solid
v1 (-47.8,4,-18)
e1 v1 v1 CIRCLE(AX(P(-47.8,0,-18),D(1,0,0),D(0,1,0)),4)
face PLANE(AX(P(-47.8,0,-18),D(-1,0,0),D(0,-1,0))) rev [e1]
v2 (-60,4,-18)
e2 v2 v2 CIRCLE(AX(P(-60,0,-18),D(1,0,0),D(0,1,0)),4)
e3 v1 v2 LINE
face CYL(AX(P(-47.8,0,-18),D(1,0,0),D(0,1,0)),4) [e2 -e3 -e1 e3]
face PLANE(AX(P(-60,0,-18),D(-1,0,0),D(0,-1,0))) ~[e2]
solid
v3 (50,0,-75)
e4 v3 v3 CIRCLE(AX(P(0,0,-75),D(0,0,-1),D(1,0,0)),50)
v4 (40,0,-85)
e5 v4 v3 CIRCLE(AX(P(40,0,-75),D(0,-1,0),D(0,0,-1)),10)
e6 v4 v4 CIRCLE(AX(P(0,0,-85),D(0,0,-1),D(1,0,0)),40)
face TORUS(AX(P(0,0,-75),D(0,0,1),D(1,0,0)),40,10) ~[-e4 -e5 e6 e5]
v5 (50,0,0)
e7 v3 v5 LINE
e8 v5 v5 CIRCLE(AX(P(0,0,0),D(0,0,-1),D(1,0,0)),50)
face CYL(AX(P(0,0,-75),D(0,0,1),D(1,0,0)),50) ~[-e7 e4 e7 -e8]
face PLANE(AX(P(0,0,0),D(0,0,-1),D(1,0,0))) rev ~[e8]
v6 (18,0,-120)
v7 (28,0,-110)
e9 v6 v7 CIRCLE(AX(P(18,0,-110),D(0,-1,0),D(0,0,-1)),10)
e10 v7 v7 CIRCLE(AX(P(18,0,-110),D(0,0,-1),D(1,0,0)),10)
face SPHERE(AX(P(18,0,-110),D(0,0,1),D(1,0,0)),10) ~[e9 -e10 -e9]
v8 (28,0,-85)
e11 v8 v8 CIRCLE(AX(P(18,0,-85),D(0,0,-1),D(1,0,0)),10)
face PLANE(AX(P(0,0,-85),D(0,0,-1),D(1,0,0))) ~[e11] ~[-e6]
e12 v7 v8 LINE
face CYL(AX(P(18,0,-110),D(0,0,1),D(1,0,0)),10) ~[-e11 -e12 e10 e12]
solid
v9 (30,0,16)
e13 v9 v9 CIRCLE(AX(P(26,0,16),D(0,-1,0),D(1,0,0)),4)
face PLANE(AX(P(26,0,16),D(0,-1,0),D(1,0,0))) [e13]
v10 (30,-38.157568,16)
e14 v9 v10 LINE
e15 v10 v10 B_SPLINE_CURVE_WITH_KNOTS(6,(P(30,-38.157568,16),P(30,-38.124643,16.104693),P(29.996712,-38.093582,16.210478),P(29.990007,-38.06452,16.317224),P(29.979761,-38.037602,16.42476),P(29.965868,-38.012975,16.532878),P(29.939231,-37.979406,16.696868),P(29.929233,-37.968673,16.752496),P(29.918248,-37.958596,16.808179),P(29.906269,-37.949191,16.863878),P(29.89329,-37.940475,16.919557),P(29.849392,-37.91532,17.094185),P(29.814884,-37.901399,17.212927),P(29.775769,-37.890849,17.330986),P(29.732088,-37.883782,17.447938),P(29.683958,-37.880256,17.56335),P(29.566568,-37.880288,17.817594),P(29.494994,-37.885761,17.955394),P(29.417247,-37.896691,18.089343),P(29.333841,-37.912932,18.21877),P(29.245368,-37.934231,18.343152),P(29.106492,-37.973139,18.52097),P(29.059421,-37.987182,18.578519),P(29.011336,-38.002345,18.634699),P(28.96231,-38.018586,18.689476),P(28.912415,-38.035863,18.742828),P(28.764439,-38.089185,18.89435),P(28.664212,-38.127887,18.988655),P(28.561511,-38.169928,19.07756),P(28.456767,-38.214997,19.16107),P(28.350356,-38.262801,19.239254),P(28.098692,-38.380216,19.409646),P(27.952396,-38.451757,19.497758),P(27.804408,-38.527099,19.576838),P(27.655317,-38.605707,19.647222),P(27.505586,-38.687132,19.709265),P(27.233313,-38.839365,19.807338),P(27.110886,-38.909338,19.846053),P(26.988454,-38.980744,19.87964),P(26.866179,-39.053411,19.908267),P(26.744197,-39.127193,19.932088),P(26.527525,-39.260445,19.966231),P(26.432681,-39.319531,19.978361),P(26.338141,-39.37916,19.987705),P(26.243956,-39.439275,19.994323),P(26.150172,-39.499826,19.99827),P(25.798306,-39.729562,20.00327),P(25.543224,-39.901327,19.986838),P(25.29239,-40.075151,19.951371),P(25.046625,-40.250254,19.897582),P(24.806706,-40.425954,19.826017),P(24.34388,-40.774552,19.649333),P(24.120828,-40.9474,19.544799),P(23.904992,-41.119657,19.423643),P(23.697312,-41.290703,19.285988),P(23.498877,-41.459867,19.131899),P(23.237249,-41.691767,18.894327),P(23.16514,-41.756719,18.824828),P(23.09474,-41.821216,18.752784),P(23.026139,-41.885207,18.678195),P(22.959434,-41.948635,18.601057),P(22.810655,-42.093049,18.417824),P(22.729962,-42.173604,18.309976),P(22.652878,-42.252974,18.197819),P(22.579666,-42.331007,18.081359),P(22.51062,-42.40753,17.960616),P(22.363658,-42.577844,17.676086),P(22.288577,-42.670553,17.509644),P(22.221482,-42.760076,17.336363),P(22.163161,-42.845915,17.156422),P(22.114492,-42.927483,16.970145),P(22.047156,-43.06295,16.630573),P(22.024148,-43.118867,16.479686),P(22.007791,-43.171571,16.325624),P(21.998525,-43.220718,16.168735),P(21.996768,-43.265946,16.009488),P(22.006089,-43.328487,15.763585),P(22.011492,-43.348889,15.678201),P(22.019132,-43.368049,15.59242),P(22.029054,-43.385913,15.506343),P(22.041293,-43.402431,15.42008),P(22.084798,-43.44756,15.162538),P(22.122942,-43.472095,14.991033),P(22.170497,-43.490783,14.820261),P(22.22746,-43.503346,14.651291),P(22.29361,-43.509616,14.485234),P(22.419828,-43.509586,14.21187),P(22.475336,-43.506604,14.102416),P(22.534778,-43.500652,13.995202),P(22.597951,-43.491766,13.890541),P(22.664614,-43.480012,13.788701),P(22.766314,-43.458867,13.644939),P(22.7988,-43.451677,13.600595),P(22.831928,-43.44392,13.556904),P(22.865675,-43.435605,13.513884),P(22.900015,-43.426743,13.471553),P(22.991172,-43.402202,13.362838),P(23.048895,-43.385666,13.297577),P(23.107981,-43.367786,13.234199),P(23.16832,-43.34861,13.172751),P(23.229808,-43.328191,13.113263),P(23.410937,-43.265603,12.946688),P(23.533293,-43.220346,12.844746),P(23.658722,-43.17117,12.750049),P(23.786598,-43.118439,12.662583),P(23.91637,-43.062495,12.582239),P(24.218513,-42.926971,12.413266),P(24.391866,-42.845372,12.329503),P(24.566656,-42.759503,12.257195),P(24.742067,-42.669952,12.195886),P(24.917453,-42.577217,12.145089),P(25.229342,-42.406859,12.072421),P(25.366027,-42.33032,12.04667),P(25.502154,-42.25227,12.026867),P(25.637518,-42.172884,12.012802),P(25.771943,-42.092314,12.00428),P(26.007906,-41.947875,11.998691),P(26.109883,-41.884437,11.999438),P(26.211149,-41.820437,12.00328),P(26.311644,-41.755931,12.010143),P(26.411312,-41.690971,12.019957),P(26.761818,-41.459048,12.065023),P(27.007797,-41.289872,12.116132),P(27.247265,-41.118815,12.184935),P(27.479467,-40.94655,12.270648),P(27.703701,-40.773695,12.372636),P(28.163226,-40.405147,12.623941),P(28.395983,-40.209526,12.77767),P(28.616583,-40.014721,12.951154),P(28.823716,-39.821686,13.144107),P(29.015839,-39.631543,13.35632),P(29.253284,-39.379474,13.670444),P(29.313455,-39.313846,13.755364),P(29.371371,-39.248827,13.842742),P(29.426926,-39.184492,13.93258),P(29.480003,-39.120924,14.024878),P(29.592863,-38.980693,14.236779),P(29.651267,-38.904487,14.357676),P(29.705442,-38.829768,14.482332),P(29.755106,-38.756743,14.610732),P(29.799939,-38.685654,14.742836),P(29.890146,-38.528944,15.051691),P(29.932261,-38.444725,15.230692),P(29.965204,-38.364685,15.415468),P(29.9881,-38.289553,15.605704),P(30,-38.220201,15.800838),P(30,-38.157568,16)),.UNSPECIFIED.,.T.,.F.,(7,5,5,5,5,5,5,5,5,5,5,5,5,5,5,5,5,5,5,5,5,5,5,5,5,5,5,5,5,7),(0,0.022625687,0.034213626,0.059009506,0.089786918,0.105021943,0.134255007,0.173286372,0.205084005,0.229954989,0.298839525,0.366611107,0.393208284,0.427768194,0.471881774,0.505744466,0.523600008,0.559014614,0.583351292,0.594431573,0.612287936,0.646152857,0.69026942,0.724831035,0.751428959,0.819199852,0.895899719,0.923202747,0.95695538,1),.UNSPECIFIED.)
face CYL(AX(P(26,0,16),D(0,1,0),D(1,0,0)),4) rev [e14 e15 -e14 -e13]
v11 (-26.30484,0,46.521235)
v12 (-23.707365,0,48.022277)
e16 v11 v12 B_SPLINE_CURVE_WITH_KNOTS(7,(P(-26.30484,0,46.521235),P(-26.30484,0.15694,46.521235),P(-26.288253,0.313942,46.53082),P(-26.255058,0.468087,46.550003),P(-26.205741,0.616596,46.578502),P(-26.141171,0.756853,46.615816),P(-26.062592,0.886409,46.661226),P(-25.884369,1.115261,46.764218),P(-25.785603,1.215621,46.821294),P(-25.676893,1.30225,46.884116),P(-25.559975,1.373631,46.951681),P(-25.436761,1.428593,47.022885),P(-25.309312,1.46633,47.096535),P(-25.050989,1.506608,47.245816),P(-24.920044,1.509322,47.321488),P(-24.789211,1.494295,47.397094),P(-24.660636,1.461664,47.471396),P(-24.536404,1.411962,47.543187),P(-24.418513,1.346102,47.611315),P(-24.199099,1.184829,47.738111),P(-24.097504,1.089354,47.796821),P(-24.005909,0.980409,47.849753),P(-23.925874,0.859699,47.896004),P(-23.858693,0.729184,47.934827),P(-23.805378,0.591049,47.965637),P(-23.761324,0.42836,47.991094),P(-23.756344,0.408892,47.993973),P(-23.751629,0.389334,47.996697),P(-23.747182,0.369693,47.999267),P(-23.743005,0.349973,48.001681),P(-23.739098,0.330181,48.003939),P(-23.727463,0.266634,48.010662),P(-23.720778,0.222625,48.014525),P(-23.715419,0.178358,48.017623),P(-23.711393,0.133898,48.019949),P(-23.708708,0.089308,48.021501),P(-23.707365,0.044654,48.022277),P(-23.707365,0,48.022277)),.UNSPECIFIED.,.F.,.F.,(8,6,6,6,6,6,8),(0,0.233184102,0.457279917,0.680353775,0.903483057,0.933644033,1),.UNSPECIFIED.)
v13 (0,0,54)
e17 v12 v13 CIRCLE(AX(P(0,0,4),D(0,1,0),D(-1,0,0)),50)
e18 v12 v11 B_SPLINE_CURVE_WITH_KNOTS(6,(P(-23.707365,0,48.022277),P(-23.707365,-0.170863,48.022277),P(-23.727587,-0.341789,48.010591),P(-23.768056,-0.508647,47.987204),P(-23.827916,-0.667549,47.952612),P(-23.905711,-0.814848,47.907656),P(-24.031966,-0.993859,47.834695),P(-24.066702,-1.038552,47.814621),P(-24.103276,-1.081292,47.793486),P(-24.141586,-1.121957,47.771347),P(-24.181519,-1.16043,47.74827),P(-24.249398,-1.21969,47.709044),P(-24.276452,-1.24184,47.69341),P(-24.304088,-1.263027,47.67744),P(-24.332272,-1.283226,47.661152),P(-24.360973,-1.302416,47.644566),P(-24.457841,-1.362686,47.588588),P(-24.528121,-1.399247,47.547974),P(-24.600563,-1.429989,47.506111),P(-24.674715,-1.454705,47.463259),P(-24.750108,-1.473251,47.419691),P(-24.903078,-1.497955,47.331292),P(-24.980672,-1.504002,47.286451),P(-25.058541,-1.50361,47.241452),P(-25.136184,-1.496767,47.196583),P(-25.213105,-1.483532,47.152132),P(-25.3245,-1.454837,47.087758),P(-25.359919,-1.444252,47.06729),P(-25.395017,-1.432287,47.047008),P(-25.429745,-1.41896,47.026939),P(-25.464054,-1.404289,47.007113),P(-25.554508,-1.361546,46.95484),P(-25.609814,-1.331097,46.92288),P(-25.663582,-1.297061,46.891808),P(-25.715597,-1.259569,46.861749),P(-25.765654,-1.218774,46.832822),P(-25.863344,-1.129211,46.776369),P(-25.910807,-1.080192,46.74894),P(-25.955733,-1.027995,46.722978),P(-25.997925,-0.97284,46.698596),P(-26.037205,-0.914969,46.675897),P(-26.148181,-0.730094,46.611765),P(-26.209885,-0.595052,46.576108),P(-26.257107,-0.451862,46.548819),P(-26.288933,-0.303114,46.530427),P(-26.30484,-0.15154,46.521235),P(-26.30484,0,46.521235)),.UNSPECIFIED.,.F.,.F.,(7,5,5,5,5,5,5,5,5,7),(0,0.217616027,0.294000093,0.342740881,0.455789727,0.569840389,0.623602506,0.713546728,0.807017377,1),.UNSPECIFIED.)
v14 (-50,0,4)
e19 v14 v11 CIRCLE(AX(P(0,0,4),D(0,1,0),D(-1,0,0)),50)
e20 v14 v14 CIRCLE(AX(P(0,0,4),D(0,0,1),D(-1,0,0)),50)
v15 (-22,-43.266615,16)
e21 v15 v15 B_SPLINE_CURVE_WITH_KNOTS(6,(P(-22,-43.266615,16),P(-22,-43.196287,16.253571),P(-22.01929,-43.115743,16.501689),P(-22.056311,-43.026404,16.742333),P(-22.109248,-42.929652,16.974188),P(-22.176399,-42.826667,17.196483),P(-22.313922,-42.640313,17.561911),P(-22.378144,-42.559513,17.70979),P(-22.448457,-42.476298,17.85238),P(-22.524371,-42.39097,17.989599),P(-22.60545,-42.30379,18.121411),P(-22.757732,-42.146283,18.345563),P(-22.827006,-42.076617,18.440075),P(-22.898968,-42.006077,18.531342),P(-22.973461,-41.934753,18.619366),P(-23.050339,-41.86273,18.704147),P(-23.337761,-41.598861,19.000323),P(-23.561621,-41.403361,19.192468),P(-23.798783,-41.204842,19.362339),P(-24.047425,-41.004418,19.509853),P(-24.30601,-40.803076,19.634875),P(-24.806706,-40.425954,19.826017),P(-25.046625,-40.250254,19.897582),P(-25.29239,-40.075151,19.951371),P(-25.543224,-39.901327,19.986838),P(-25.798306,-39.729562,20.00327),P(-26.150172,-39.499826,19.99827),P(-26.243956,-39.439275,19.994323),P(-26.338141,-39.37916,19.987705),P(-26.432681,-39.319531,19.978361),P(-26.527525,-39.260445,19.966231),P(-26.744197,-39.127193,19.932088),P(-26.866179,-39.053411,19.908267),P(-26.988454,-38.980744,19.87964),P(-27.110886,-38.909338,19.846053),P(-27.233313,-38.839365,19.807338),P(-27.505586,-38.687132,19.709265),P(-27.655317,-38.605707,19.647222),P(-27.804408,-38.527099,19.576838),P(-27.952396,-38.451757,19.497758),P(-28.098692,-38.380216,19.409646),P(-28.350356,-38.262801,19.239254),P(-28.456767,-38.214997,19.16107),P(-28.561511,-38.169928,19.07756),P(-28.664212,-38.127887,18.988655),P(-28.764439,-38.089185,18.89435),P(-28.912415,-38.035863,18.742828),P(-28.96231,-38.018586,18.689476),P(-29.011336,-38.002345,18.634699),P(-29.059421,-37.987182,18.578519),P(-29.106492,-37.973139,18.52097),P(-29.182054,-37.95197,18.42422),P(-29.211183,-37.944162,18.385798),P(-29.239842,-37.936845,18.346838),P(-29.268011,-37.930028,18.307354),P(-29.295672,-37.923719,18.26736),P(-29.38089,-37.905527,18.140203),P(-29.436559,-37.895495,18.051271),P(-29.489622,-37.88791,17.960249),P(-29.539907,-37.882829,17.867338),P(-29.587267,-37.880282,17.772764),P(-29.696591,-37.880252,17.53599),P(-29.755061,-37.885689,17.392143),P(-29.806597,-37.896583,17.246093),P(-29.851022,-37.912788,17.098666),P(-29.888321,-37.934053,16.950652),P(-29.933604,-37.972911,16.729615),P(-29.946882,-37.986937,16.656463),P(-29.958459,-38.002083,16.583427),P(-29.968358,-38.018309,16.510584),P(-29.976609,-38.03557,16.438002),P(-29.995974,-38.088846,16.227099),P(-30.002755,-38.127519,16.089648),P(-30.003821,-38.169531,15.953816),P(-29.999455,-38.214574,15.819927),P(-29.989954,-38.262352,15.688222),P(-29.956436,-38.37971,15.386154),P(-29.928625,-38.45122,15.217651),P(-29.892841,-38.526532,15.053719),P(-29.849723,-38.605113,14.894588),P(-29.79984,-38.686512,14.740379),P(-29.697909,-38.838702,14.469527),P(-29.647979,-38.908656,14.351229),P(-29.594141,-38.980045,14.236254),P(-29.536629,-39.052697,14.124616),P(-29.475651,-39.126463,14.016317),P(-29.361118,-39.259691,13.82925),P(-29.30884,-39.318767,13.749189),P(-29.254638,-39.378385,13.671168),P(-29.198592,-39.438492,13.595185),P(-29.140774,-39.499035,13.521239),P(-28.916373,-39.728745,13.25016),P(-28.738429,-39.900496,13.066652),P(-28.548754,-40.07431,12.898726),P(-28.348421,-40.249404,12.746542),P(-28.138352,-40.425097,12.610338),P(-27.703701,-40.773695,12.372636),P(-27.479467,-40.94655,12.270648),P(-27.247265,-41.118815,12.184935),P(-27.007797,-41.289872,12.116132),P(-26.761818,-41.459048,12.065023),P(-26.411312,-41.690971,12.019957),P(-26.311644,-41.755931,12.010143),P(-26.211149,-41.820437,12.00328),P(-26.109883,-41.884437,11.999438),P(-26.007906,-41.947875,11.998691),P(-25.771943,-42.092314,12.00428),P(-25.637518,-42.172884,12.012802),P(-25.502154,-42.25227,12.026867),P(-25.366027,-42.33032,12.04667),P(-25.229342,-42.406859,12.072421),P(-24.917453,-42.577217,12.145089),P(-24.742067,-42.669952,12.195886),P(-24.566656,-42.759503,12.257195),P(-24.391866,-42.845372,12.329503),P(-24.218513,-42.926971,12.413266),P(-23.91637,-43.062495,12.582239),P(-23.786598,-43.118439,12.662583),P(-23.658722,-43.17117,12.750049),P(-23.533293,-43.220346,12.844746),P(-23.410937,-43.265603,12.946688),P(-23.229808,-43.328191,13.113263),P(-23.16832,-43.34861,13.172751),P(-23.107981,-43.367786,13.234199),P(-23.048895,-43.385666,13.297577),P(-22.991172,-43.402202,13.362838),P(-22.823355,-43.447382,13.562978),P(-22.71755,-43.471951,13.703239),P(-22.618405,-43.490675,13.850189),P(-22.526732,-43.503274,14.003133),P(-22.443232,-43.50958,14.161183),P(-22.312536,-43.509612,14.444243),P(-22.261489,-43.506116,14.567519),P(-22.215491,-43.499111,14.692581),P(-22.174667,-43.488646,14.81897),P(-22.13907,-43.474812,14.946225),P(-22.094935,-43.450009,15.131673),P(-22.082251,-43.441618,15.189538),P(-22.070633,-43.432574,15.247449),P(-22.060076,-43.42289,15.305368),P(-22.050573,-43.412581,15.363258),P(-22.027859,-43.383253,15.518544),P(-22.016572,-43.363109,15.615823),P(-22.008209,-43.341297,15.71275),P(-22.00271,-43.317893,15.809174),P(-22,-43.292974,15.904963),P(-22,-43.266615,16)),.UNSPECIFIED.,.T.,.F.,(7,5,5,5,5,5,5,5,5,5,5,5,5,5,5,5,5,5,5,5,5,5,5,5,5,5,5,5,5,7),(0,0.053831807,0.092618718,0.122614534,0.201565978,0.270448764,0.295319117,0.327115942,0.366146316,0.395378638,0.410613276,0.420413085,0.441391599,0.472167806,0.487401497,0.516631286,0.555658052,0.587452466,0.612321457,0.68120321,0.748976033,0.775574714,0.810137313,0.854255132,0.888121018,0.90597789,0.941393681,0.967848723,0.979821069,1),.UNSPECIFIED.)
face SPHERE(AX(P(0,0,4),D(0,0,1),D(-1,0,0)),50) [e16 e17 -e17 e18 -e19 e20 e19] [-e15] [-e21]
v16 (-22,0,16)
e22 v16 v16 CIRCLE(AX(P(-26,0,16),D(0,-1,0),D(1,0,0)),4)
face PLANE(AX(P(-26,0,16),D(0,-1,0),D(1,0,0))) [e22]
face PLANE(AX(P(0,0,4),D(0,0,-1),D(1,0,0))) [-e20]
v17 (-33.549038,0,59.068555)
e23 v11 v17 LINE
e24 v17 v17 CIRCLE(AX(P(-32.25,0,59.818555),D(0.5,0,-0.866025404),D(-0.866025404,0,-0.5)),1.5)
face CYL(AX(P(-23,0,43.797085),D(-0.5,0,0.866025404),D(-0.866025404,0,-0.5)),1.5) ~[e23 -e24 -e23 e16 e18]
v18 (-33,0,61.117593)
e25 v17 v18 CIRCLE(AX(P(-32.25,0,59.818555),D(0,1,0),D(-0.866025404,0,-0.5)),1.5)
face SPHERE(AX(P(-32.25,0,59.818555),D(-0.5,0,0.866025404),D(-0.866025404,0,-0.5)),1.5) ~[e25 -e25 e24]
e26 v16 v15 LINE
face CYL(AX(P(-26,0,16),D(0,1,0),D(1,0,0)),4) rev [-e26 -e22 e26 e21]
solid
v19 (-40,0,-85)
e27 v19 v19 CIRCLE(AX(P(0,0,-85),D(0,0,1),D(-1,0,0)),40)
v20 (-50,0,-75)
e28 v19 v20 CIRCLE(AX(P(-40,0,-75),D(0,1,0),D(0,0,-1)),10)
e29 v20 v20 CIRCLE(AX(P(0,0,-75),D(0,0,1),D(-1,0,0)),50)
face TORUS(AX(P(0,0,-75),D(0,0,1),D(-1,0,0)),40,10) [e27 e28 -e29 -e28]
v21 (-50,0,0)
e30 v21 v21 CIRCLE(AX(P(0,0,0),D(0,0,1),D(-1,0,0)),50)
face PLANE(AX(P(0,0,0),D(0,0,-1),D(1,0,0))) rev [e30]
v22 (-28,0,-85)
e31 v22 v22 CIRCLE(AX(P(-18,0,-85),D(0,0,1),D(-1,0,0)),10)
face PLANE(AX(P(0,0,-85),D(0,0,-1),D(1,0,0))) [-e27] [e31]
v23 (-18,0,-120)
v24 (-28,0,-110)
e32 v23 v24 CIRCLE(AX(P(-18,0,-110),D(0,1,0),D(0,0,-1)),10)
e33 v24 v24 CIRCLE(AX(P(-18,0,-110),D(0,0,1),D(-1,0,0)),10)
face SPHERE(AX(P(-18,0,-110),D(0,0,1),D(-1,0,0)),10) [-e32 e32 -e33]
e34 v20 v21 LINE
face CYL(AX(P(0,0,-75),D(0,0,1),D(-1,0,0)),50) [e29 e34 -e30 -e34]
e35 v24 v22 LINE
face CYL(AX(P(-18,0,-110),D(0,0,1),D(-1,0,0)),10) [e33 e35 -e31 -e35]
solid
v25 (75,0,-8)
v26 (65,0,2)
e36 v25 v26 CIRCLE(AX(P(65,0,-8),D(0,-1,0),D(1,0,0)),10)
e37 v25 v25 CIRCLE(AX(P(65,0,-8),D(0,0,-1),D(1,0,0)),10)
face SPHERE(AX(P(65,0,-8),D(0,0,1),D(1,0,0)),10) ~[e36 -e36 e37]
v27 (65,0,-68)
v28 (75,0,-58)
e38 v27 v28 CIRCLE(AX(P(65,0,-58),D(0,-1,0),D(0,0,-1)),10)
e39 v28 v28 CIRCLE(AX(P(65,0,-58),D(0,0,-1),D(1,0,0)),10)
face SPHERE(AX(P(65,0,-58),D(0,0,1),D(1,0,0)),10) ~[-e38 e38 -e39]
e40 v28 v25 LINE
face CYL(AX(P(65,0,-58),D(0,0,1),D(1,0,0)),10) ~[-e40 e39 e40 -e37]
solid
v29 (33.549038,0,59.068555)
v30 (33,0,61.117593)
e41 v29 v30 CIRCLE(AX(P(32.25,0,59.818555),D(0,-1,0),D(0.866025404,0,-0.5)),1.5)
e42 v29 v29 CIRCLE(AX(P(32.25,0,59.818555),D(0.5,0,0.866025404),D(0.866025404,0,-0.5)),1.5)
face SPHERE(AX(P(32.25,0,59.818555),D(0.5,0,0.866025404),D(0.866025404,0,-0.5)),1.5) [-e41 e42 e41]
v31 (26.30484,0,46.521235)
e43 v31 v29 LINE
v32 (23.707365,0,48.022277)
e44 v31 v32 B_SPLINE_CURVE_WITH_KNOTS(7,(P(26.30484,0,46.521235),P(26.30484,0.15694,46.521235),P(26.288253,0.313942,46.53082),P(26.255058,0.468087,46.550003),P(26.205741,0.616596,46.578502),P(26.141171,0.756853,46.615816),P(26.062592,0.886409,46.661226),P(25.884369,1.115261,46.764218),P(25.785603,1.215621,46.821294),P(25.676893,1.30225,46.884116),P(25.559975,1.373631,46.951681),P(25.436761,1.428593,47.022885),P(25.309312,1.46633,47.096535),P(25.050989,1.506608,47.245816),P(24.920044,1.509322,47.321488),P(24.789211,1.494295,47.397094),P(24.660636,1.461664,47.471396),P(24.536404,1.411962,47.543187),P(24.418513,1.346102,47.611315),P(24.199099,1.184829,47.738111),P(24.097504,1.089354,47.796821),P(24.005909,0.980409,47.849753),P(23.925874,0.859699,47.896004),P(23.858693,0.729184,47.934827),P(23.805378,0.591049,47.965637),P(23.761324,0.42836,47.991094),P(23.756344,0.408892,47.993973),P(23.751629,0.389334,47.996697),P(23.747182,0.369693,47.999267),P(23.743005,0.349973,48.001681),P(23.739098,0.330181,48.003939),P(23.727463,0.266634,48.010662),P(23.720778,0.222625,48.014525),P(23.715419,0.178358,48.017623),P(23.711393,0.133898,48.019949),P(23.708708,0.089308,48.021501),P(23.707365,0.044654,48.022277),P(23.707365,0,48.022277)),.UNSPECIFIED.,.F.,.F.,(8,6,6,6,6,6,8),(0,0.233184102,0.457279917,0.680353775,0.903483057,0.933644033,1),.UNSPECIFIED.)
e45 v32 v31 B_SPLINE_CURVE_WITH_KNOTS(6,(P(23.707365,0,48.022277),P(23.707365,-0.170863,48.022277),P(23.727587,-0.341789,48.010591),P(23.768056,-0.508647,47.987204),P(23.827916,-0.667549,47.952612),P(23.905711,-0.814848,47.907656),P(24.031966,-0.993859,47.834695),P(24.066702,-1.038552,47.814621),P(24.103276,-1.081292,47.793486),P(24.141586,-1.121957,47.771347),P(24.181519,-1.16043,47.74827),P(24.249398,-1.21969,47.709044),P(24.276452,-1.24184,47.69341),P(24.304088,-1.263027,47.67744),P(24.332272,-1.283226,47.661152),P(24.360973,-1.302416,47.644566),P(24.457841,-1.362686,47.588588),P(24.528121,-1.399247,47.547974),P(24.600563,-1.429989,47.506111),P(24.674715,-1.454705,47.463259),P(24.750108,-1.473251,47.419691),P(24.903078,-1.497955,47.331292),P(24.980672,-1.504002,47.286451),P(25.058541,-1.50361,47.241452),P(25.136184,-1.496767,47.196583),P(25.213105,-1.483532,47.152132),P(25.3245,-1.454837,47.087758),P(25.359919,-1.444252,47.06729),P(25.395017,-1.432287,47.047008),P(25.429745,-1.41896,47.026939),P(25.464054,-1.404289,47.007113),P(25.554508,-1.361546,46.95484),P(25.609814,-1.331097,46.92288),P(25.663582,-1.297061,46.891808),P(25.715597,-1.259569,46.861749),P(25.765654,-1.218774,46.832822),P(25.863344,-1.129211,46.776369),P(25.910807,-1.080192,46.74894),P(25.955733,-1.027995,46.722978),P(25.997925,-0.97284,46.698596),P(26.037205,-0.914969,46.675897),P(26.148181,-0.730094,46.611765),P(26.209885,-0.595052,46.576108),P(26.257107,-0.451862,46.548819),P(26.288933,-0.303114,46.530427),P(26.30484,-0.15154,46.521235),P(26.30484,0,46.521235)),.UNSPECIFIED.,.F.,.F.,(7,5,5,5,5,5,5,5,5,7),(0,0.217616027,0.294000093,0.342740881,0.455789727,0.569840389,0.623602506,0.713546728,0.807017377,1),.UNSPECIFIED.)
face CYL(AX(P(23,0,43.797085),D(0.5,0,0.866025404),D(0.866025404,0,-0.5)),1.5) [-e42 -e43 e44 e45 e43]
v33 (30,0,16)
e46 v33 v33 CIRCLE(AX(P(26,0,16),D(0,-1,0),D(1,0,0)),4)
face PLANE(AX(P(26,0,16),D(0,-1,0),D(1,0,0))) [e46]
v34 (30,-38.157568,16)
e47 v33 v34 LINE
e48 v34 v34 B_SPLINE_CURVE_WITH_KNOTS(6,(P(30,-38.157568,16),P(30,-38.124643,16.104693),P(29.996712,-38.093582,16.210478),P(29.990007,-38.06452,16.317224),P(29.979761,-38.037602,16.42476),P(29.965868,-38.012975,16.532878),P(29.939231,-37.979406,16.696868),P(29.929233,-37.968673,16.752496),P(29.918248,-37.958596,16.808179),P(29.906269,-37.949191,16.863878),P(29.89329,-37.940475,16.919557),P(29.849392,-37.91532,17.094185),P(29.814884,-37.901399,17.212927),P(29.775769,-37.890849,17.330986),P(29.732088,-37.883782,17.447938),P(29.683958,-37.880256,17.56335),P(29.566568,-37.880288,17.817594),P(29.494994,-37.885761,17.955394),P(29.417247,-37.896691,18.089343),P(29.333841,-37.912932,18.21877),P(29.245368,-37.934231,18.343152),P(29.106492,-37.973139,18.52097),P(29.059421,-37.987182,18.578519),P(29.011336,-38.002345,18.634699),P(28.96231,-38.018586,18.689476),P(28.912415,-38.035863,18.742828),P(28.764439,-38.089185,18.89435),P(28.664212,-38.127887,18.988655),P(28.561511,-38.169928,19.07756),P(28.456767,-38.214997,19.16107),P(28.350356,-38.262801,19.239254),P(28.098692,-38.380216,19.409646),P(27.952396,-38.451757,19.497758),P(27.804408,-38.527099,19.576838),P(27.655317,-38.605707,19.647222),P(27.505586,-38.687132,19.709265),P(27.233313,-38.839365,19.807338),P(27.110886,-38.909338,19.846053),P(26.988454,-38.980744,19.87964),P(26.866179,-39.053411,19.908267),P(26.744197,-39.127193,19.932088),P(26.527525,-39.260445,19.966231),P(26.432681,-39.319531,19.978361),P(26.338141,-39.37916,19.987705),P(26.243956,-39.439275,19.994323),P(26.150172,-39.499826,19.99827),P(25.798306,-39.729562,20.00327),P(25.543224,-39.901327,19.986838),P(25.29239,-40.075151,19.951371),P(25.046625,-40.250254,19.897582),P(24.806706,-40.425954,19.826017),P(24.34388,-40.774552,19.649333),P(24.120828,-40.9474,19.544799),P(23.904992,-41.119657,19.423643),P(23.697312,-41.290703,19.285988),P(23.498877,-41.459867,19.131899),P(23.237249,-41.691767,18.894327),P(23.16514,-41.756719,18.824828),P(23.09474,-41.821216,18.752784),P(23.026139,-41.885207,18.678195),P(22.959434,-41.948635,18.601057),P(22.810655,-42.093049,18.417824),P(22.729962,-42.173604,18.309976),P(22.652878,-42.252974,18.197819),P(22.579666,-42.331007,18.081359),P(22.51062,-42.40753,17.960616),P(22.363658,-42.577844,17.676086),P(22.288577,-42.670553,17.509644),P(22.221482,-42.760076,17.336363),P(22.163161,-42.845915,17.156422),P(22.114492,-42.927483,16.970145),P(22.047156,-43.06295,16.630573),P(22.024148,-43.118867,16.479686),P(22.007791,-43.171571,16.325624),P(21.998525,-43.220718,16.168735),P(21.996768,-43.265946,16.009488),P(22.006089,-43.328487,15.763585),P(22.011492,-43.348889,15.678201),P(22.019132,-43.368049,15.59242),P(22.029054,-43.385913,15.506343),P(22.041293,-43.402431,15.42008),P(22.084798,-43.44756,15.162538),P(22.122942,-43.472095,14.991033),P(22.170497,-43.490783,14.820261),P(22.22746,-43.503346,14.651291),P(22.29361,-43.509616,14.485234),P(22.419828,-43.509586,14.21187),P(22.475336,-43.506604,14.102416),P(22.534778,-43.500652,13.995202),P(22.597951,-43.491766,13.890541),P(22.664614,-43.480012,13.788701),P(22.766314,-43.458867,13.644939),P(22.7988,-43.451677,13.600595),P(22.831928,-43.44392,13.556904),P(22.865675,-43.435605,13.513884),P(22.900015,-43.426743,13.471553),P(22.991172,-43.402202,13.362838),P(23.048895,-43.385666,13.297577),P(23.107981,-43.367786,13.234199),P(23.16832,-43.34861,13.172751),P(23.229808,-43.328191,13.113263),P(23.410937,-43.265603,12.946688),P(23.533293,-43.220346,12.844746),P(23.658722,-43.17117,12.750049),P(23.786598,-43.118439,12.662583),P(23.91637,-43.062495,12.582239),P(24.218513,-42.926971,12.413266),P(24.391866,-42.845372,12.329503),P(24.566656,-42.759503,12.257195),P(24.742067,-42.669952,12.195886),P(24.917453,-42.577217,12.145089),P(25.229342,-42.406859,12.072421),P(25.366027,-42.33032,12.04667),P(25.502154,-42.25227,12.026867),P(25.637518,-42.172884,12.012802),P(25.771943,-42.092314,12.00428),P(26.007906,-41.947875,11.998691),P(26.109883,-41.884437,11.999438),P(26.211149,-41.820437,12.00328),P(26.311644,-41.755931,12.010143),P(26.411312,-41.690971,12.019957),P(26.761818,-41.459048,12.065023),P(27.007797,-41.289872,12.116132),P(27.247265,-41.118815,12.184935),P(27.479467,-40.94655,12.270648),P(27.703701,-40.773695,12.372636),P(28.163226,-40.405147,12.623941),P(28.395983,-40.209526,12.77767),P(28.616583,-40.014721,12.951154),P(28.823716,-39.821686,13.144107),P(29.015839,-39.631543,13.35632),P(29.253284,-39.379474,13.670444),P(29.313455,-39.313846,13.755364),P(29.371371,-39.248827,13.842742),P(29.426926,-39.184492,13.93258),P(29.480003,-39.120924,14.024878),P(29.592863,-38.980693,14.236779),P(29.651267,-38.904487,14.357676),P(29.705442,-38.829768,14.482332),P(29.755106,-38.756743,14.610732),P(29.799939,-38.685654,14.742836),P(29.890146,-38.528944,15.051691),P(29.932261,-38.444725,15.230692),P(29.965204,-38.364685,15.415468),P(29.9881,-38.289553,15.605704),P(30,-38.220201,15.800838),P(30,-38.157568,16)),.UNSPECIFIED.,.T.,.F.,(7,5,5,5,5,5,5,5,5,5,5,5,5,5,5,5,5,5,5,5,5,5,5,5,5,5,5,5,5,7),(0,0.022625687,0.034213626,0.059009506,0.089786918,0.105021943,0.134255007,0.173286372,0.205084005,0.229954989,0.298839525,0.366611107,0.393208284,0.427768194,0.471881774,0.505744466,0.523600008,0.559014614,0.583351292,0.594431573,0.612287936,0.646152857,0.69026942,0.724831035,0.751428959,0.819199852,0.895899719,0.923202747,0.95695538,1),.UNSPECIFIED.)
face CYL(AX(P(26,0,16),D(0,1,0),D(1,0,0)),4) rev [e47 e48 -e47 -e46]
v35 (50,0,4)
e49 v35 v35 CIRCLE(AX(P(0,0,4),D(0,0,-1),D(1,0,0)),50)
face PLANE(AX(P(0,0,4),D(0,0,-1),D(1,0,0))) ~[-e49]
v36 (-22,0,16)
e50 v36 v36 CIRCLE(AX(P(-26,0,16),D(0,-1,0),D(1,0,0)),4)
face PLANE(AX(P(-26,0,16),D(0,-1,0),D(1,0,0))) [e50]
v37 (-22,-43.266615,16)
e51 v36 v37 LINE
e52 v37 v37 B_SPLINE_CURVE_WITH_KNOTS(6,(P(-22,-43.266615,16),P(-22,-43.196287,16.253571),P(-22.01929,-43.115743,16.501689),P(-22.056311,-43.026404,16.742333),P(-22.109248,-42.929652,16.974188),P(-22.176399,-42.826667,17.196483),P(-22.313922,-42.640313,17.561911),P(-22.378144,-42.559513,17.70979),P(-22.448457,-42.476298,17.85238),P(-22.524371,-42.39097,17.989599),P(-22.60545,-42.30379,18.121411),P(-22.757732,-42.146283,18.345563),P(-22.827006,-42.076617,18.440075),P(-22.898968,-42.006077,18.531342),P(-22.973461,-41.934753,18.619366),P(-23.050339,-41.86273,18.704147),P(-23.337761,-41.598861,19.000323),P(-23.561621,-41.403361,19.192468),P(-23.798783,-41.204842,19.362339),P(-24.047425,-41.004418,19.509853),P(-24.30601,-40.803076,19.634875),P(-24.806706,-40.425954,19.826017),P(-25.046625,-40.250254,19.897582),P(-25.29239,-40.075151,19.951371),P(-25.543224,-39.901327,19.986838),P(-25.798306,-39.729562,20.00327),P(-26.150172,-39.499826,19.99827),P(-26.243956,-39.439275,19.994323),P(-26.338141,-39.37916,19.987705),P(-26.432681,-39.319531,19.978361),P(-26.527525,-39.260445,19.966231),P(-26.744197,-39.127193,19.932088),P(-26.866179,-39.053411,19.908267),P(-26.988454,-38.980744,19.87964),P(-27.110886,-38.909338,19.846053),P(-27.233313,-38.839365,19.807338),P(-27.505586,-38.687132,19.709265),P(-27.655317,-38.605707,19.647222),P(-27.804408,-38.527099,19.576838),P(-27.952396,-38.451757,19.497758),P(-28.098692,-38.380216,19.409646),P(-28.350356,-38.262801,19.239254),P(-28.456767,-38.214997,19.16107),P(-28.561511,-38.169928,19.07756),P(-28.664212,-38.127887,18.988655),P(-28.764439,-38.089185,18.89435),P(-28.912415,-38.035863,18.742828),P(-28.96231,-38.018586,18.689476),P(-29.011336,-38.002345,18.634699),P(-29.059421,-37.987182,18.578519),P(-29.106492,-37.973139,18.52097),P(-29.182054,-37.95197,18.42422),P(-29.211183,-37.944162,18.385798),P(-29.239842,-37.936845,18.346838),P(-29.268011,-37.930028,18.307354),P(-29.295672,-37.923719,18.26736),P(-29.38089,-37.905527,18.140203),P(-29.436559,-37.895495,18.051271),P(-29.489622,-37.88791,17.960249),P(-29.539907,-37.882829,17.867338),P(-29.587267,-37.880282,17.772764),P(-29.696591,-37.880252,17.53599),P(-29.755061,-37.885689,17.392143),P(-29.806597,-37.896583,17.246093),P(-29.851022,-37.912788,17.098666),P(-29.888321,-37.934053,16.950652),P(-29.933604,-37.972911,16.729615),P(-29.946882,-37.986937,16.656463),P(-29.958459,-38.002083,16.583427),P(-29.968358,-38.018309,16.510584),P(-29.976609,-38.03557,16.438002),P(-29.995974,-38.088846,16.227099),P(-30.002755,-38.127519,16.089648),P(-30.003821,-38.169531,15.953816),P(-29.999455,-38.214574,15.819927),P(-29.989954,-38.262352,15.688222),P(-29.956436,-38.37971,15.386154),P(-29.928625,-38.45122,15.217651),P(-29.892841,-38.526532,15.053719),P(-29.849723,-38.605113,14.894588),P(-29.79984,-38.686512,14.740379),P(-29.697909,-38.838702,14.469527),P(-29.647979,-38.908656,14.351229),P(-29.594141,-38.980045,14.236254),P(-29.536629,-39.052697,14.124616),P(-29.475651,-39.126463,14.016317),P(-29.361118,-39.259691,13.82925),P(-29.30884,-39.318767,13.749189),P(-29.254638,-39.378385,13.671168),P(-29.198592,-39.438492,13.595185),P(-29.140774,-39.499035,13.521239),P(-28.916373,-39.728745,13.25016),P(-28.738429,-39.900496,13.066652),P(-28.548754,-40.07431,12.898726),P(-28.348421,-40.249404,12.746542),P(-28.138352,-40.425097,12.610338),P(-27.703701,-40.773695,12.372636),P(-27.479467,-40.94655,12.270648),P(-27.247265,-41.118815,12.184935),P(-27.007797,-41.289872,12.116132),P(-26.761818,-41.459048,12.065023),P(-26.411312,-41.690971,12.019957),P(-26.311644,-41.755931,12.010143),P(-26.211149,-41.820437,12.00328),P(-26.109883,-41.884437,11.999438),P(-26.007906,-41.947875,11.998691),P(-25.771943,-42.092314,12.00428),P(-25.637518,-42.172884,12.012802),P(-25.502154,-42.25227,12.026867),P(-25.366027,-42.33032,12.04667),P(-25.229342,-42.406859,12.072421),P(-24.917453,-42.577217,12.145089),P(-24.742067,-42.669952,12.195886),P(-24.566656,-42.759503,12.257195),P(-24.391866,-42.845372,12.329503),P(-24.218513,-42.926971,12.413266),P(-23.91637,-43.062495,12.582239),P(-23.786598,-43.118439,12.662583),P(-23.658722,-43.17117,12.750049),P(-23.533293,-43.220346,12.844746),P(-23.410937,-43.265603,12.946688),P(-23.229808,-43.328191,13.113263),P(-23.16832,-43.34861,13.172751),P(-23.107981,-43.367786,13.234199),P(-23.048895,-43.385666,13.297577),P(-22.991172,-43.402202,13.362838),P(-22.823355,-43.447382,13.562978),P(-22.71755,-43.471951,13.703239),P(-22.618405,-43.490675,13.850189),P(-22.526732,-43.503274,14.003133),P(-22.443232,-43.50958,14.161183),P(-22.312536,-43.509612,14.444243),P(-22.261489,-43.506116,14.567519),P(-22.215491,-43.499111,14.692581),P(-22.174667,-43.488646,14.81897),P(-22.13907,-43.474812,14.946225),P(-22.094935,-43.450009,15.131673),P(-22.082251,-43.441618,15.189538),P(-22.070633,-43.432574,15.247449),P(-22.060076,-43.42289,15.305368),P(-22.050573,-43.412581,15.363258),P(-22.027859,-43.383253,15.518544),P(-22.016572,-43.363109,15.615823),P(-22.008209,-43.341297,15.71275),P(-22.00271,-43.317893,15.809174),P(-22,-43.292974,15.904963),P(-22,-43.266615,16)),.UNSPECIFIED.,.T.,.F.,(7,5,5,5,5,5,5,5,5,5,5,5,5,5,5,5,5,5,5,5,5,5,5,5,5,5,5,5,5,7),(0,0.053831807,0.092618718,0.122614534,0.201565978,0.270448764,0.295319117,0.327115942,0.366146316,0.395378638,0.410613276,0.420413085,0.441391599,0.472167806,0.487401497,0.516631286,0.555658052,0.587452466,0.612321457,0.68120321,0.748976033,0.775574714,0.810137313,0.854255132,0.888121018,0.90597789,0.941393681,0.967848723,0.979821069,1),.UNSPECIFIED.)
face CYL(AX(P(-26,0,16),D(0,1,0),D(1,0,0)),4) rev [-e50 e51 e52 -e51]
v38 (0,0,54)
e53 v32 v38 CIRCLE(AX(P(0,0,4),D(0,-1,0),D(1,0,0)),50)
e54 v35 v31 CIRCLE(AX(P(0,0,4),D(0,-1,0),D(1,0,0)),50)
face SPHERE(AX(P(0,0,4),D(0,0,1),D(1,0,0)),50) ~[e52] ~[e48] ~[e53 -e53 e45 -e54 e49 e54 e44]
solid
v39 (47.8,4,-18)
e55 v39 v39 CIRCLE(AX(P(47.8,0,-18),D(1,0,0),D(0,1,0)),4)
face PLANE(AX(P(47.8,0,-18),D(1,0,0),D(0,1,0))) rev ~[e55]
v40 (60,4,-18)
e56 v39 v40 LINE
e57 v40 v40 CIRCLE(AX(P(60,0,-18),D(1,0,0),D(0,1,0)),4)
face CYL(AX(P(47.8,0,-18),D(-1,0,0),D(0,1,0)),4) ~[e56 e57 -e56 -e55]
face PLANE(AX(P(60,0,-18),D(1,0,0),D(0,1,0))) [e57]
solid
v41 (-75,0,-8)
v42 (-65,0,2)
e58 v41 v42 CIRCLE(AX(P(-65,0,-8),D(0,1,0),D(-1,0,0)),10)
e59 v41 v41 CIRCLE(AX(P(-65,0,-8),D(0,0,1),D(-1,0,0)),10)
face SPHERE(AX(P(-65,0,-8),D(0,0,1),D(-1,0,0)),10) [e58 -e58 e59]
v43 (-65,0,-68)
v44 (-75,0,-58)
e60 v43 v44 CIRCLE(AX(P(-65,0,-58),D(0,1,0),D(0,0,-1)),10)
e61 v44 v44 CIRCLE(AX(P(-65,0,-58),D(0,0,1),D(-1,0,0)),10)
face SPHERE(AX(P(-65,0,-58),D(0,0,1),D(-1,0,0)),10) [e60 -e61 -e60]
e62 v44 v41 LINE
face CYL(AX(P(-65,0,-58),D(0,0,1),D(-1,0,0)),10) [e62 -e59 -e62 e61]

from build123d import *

# Parameters (mm, degrees)
F9_R      = 4
F10_DEPTH = 60
F12_START = 47.8
F11_R     = 4
F12_DEPTH = 12.2


with BuildPart() as f1:
    # F0 (on Front) → F1 (revolve)
    with BuildSketch(Plane.XZ):
        with BuildLine():
            Line((0, 54), (0, 4))
            Line((0, 4), (50, 4))
            ThreePointArc((50, 4), (35.3553390593, 39.3553390593), (0, 54))
        make_face()
    revolve(axis=Axis((0, 0, -24.6936754167), (0, 0, -1)))

    # F6 (on Front) → F7 (revolve)
    with BuildSketch(Plane.XZ):
        with BuildLine():
            Line((33, 61.1175927162), (23, 43.7970846405))
            Line((23, 43.7970846405), (24.2990381057, 43.0470846405))
            Line((24.2990381057, 43.0470846405), (33.5490381057, 59.0685546105))
            ThreePointArc((33.5490381057, 59.0685546105), (33.6988887394, 60.2067831781), (33, 61.1175927162))
        make_face()
    revolve(axis=Axis((8.1424876619, 0, 18.0631183967), (0.5, 0, 0.8660254038)))


with BuildPart() as f1b:
    # F0 (on Front) → F1, piece 2 (revolve)
    with BuildSketch(Plane.XZ):
        with BuildLine():
            Line((50, 0), (0, 0))
            Line((0, 0), (0, -85))
            Line((0, -85), (40, -85))
            ThreePointArc((40, -85), (47.0710678119, -82.0710678119), (50, -75))
            Line((50, -75), (50, 0))
        make_face()
    revolve(axis=Axis((0, 0, -24.6936754167), (0, 0, -1)))

    # F2 (on Front) → F3 (revolve)
    with BuildSketch(Plane.XZ):
        with BuildLine():
            Line((28, -85), (18, -85))
            Line((18, -85), (18, -120))
            ThreePointArc((18, -120), (25.0710678119, -117.0710678119), (28, -110))
            Line((28, -110), (28, -85))
        make_face()
    revolve(axis=Axis((18, 0, -107.5847484171), (0, 0, -1)))


with BuildPart() as f5:
    # F4 (on Front) → F5 (revolve)
    with BuildSketch(Plane.XZ):
        with BuildLine():
            Line((65, 2), (65, -68))
            ThreePointArc((65, -68), (72.0710678119, -65.0710678119), (75, -58))
            Line((75, -58), (75, -8))
            ThreePointArc((75, -8), (72.0710678119, -0.9289321881), (65, 2))
        make_face()
    revolve(axis=Axis((65, 0, -36.7332571186), (0, 0, -1)))


with BuildPart() as f8_1:
    # F8: instance of F5
    add(f5.part.mirror(Plane.YZ))


with BuildPart() as f8_2:
    # F8: instance of F1b
    add(f1b.part.mirror(Plane.YZ))


with BuildPart() as f8_3:
    # F8: instance of F1
    add(f1.part.mirror(Plane.YZ))


with BuildPart() as f10_tool:
    # F9 (on Front) → F10 (new body)
    with BuildSketch(Plane.XZ):
        with Locations((26, 16)):
            Circle(F9_R)
        with Locations((-26, 16)):
            Circle(F9_R)
    extrude(amount=F10_DEPTH)


with BuildPart() as f1_1:
    add(f1.part)

    # F10: cut by f10_tool
    add(f10_tool.part, mode=Mode.SUBTRACT)


with BuildPart() as f8_3_1:
    add(f8_3.part)

    # F10: cut by f10_tool
    add(f10_tool.part, mode=Mode.SUBTRACT)


with BuildPart() as f12:
    # F11 (on Right) → F12 (new body)
    with BuildSketch(Plane.YZ.offset(F12_START)):
        with Locations((0, -18)):
            Circle(F11_R)
    extrude(amount=F12_DEPTH)


with BuildPart() as f13_1:
    # F13: instance of F12
    add(f12.part.mirror(Plane.YZ))


solid = Compound([f1b.part, f5.part, f8_1.part, f8_2.part, f1_1.part, f8_3_1.part, f12.part, f13_1.part])
